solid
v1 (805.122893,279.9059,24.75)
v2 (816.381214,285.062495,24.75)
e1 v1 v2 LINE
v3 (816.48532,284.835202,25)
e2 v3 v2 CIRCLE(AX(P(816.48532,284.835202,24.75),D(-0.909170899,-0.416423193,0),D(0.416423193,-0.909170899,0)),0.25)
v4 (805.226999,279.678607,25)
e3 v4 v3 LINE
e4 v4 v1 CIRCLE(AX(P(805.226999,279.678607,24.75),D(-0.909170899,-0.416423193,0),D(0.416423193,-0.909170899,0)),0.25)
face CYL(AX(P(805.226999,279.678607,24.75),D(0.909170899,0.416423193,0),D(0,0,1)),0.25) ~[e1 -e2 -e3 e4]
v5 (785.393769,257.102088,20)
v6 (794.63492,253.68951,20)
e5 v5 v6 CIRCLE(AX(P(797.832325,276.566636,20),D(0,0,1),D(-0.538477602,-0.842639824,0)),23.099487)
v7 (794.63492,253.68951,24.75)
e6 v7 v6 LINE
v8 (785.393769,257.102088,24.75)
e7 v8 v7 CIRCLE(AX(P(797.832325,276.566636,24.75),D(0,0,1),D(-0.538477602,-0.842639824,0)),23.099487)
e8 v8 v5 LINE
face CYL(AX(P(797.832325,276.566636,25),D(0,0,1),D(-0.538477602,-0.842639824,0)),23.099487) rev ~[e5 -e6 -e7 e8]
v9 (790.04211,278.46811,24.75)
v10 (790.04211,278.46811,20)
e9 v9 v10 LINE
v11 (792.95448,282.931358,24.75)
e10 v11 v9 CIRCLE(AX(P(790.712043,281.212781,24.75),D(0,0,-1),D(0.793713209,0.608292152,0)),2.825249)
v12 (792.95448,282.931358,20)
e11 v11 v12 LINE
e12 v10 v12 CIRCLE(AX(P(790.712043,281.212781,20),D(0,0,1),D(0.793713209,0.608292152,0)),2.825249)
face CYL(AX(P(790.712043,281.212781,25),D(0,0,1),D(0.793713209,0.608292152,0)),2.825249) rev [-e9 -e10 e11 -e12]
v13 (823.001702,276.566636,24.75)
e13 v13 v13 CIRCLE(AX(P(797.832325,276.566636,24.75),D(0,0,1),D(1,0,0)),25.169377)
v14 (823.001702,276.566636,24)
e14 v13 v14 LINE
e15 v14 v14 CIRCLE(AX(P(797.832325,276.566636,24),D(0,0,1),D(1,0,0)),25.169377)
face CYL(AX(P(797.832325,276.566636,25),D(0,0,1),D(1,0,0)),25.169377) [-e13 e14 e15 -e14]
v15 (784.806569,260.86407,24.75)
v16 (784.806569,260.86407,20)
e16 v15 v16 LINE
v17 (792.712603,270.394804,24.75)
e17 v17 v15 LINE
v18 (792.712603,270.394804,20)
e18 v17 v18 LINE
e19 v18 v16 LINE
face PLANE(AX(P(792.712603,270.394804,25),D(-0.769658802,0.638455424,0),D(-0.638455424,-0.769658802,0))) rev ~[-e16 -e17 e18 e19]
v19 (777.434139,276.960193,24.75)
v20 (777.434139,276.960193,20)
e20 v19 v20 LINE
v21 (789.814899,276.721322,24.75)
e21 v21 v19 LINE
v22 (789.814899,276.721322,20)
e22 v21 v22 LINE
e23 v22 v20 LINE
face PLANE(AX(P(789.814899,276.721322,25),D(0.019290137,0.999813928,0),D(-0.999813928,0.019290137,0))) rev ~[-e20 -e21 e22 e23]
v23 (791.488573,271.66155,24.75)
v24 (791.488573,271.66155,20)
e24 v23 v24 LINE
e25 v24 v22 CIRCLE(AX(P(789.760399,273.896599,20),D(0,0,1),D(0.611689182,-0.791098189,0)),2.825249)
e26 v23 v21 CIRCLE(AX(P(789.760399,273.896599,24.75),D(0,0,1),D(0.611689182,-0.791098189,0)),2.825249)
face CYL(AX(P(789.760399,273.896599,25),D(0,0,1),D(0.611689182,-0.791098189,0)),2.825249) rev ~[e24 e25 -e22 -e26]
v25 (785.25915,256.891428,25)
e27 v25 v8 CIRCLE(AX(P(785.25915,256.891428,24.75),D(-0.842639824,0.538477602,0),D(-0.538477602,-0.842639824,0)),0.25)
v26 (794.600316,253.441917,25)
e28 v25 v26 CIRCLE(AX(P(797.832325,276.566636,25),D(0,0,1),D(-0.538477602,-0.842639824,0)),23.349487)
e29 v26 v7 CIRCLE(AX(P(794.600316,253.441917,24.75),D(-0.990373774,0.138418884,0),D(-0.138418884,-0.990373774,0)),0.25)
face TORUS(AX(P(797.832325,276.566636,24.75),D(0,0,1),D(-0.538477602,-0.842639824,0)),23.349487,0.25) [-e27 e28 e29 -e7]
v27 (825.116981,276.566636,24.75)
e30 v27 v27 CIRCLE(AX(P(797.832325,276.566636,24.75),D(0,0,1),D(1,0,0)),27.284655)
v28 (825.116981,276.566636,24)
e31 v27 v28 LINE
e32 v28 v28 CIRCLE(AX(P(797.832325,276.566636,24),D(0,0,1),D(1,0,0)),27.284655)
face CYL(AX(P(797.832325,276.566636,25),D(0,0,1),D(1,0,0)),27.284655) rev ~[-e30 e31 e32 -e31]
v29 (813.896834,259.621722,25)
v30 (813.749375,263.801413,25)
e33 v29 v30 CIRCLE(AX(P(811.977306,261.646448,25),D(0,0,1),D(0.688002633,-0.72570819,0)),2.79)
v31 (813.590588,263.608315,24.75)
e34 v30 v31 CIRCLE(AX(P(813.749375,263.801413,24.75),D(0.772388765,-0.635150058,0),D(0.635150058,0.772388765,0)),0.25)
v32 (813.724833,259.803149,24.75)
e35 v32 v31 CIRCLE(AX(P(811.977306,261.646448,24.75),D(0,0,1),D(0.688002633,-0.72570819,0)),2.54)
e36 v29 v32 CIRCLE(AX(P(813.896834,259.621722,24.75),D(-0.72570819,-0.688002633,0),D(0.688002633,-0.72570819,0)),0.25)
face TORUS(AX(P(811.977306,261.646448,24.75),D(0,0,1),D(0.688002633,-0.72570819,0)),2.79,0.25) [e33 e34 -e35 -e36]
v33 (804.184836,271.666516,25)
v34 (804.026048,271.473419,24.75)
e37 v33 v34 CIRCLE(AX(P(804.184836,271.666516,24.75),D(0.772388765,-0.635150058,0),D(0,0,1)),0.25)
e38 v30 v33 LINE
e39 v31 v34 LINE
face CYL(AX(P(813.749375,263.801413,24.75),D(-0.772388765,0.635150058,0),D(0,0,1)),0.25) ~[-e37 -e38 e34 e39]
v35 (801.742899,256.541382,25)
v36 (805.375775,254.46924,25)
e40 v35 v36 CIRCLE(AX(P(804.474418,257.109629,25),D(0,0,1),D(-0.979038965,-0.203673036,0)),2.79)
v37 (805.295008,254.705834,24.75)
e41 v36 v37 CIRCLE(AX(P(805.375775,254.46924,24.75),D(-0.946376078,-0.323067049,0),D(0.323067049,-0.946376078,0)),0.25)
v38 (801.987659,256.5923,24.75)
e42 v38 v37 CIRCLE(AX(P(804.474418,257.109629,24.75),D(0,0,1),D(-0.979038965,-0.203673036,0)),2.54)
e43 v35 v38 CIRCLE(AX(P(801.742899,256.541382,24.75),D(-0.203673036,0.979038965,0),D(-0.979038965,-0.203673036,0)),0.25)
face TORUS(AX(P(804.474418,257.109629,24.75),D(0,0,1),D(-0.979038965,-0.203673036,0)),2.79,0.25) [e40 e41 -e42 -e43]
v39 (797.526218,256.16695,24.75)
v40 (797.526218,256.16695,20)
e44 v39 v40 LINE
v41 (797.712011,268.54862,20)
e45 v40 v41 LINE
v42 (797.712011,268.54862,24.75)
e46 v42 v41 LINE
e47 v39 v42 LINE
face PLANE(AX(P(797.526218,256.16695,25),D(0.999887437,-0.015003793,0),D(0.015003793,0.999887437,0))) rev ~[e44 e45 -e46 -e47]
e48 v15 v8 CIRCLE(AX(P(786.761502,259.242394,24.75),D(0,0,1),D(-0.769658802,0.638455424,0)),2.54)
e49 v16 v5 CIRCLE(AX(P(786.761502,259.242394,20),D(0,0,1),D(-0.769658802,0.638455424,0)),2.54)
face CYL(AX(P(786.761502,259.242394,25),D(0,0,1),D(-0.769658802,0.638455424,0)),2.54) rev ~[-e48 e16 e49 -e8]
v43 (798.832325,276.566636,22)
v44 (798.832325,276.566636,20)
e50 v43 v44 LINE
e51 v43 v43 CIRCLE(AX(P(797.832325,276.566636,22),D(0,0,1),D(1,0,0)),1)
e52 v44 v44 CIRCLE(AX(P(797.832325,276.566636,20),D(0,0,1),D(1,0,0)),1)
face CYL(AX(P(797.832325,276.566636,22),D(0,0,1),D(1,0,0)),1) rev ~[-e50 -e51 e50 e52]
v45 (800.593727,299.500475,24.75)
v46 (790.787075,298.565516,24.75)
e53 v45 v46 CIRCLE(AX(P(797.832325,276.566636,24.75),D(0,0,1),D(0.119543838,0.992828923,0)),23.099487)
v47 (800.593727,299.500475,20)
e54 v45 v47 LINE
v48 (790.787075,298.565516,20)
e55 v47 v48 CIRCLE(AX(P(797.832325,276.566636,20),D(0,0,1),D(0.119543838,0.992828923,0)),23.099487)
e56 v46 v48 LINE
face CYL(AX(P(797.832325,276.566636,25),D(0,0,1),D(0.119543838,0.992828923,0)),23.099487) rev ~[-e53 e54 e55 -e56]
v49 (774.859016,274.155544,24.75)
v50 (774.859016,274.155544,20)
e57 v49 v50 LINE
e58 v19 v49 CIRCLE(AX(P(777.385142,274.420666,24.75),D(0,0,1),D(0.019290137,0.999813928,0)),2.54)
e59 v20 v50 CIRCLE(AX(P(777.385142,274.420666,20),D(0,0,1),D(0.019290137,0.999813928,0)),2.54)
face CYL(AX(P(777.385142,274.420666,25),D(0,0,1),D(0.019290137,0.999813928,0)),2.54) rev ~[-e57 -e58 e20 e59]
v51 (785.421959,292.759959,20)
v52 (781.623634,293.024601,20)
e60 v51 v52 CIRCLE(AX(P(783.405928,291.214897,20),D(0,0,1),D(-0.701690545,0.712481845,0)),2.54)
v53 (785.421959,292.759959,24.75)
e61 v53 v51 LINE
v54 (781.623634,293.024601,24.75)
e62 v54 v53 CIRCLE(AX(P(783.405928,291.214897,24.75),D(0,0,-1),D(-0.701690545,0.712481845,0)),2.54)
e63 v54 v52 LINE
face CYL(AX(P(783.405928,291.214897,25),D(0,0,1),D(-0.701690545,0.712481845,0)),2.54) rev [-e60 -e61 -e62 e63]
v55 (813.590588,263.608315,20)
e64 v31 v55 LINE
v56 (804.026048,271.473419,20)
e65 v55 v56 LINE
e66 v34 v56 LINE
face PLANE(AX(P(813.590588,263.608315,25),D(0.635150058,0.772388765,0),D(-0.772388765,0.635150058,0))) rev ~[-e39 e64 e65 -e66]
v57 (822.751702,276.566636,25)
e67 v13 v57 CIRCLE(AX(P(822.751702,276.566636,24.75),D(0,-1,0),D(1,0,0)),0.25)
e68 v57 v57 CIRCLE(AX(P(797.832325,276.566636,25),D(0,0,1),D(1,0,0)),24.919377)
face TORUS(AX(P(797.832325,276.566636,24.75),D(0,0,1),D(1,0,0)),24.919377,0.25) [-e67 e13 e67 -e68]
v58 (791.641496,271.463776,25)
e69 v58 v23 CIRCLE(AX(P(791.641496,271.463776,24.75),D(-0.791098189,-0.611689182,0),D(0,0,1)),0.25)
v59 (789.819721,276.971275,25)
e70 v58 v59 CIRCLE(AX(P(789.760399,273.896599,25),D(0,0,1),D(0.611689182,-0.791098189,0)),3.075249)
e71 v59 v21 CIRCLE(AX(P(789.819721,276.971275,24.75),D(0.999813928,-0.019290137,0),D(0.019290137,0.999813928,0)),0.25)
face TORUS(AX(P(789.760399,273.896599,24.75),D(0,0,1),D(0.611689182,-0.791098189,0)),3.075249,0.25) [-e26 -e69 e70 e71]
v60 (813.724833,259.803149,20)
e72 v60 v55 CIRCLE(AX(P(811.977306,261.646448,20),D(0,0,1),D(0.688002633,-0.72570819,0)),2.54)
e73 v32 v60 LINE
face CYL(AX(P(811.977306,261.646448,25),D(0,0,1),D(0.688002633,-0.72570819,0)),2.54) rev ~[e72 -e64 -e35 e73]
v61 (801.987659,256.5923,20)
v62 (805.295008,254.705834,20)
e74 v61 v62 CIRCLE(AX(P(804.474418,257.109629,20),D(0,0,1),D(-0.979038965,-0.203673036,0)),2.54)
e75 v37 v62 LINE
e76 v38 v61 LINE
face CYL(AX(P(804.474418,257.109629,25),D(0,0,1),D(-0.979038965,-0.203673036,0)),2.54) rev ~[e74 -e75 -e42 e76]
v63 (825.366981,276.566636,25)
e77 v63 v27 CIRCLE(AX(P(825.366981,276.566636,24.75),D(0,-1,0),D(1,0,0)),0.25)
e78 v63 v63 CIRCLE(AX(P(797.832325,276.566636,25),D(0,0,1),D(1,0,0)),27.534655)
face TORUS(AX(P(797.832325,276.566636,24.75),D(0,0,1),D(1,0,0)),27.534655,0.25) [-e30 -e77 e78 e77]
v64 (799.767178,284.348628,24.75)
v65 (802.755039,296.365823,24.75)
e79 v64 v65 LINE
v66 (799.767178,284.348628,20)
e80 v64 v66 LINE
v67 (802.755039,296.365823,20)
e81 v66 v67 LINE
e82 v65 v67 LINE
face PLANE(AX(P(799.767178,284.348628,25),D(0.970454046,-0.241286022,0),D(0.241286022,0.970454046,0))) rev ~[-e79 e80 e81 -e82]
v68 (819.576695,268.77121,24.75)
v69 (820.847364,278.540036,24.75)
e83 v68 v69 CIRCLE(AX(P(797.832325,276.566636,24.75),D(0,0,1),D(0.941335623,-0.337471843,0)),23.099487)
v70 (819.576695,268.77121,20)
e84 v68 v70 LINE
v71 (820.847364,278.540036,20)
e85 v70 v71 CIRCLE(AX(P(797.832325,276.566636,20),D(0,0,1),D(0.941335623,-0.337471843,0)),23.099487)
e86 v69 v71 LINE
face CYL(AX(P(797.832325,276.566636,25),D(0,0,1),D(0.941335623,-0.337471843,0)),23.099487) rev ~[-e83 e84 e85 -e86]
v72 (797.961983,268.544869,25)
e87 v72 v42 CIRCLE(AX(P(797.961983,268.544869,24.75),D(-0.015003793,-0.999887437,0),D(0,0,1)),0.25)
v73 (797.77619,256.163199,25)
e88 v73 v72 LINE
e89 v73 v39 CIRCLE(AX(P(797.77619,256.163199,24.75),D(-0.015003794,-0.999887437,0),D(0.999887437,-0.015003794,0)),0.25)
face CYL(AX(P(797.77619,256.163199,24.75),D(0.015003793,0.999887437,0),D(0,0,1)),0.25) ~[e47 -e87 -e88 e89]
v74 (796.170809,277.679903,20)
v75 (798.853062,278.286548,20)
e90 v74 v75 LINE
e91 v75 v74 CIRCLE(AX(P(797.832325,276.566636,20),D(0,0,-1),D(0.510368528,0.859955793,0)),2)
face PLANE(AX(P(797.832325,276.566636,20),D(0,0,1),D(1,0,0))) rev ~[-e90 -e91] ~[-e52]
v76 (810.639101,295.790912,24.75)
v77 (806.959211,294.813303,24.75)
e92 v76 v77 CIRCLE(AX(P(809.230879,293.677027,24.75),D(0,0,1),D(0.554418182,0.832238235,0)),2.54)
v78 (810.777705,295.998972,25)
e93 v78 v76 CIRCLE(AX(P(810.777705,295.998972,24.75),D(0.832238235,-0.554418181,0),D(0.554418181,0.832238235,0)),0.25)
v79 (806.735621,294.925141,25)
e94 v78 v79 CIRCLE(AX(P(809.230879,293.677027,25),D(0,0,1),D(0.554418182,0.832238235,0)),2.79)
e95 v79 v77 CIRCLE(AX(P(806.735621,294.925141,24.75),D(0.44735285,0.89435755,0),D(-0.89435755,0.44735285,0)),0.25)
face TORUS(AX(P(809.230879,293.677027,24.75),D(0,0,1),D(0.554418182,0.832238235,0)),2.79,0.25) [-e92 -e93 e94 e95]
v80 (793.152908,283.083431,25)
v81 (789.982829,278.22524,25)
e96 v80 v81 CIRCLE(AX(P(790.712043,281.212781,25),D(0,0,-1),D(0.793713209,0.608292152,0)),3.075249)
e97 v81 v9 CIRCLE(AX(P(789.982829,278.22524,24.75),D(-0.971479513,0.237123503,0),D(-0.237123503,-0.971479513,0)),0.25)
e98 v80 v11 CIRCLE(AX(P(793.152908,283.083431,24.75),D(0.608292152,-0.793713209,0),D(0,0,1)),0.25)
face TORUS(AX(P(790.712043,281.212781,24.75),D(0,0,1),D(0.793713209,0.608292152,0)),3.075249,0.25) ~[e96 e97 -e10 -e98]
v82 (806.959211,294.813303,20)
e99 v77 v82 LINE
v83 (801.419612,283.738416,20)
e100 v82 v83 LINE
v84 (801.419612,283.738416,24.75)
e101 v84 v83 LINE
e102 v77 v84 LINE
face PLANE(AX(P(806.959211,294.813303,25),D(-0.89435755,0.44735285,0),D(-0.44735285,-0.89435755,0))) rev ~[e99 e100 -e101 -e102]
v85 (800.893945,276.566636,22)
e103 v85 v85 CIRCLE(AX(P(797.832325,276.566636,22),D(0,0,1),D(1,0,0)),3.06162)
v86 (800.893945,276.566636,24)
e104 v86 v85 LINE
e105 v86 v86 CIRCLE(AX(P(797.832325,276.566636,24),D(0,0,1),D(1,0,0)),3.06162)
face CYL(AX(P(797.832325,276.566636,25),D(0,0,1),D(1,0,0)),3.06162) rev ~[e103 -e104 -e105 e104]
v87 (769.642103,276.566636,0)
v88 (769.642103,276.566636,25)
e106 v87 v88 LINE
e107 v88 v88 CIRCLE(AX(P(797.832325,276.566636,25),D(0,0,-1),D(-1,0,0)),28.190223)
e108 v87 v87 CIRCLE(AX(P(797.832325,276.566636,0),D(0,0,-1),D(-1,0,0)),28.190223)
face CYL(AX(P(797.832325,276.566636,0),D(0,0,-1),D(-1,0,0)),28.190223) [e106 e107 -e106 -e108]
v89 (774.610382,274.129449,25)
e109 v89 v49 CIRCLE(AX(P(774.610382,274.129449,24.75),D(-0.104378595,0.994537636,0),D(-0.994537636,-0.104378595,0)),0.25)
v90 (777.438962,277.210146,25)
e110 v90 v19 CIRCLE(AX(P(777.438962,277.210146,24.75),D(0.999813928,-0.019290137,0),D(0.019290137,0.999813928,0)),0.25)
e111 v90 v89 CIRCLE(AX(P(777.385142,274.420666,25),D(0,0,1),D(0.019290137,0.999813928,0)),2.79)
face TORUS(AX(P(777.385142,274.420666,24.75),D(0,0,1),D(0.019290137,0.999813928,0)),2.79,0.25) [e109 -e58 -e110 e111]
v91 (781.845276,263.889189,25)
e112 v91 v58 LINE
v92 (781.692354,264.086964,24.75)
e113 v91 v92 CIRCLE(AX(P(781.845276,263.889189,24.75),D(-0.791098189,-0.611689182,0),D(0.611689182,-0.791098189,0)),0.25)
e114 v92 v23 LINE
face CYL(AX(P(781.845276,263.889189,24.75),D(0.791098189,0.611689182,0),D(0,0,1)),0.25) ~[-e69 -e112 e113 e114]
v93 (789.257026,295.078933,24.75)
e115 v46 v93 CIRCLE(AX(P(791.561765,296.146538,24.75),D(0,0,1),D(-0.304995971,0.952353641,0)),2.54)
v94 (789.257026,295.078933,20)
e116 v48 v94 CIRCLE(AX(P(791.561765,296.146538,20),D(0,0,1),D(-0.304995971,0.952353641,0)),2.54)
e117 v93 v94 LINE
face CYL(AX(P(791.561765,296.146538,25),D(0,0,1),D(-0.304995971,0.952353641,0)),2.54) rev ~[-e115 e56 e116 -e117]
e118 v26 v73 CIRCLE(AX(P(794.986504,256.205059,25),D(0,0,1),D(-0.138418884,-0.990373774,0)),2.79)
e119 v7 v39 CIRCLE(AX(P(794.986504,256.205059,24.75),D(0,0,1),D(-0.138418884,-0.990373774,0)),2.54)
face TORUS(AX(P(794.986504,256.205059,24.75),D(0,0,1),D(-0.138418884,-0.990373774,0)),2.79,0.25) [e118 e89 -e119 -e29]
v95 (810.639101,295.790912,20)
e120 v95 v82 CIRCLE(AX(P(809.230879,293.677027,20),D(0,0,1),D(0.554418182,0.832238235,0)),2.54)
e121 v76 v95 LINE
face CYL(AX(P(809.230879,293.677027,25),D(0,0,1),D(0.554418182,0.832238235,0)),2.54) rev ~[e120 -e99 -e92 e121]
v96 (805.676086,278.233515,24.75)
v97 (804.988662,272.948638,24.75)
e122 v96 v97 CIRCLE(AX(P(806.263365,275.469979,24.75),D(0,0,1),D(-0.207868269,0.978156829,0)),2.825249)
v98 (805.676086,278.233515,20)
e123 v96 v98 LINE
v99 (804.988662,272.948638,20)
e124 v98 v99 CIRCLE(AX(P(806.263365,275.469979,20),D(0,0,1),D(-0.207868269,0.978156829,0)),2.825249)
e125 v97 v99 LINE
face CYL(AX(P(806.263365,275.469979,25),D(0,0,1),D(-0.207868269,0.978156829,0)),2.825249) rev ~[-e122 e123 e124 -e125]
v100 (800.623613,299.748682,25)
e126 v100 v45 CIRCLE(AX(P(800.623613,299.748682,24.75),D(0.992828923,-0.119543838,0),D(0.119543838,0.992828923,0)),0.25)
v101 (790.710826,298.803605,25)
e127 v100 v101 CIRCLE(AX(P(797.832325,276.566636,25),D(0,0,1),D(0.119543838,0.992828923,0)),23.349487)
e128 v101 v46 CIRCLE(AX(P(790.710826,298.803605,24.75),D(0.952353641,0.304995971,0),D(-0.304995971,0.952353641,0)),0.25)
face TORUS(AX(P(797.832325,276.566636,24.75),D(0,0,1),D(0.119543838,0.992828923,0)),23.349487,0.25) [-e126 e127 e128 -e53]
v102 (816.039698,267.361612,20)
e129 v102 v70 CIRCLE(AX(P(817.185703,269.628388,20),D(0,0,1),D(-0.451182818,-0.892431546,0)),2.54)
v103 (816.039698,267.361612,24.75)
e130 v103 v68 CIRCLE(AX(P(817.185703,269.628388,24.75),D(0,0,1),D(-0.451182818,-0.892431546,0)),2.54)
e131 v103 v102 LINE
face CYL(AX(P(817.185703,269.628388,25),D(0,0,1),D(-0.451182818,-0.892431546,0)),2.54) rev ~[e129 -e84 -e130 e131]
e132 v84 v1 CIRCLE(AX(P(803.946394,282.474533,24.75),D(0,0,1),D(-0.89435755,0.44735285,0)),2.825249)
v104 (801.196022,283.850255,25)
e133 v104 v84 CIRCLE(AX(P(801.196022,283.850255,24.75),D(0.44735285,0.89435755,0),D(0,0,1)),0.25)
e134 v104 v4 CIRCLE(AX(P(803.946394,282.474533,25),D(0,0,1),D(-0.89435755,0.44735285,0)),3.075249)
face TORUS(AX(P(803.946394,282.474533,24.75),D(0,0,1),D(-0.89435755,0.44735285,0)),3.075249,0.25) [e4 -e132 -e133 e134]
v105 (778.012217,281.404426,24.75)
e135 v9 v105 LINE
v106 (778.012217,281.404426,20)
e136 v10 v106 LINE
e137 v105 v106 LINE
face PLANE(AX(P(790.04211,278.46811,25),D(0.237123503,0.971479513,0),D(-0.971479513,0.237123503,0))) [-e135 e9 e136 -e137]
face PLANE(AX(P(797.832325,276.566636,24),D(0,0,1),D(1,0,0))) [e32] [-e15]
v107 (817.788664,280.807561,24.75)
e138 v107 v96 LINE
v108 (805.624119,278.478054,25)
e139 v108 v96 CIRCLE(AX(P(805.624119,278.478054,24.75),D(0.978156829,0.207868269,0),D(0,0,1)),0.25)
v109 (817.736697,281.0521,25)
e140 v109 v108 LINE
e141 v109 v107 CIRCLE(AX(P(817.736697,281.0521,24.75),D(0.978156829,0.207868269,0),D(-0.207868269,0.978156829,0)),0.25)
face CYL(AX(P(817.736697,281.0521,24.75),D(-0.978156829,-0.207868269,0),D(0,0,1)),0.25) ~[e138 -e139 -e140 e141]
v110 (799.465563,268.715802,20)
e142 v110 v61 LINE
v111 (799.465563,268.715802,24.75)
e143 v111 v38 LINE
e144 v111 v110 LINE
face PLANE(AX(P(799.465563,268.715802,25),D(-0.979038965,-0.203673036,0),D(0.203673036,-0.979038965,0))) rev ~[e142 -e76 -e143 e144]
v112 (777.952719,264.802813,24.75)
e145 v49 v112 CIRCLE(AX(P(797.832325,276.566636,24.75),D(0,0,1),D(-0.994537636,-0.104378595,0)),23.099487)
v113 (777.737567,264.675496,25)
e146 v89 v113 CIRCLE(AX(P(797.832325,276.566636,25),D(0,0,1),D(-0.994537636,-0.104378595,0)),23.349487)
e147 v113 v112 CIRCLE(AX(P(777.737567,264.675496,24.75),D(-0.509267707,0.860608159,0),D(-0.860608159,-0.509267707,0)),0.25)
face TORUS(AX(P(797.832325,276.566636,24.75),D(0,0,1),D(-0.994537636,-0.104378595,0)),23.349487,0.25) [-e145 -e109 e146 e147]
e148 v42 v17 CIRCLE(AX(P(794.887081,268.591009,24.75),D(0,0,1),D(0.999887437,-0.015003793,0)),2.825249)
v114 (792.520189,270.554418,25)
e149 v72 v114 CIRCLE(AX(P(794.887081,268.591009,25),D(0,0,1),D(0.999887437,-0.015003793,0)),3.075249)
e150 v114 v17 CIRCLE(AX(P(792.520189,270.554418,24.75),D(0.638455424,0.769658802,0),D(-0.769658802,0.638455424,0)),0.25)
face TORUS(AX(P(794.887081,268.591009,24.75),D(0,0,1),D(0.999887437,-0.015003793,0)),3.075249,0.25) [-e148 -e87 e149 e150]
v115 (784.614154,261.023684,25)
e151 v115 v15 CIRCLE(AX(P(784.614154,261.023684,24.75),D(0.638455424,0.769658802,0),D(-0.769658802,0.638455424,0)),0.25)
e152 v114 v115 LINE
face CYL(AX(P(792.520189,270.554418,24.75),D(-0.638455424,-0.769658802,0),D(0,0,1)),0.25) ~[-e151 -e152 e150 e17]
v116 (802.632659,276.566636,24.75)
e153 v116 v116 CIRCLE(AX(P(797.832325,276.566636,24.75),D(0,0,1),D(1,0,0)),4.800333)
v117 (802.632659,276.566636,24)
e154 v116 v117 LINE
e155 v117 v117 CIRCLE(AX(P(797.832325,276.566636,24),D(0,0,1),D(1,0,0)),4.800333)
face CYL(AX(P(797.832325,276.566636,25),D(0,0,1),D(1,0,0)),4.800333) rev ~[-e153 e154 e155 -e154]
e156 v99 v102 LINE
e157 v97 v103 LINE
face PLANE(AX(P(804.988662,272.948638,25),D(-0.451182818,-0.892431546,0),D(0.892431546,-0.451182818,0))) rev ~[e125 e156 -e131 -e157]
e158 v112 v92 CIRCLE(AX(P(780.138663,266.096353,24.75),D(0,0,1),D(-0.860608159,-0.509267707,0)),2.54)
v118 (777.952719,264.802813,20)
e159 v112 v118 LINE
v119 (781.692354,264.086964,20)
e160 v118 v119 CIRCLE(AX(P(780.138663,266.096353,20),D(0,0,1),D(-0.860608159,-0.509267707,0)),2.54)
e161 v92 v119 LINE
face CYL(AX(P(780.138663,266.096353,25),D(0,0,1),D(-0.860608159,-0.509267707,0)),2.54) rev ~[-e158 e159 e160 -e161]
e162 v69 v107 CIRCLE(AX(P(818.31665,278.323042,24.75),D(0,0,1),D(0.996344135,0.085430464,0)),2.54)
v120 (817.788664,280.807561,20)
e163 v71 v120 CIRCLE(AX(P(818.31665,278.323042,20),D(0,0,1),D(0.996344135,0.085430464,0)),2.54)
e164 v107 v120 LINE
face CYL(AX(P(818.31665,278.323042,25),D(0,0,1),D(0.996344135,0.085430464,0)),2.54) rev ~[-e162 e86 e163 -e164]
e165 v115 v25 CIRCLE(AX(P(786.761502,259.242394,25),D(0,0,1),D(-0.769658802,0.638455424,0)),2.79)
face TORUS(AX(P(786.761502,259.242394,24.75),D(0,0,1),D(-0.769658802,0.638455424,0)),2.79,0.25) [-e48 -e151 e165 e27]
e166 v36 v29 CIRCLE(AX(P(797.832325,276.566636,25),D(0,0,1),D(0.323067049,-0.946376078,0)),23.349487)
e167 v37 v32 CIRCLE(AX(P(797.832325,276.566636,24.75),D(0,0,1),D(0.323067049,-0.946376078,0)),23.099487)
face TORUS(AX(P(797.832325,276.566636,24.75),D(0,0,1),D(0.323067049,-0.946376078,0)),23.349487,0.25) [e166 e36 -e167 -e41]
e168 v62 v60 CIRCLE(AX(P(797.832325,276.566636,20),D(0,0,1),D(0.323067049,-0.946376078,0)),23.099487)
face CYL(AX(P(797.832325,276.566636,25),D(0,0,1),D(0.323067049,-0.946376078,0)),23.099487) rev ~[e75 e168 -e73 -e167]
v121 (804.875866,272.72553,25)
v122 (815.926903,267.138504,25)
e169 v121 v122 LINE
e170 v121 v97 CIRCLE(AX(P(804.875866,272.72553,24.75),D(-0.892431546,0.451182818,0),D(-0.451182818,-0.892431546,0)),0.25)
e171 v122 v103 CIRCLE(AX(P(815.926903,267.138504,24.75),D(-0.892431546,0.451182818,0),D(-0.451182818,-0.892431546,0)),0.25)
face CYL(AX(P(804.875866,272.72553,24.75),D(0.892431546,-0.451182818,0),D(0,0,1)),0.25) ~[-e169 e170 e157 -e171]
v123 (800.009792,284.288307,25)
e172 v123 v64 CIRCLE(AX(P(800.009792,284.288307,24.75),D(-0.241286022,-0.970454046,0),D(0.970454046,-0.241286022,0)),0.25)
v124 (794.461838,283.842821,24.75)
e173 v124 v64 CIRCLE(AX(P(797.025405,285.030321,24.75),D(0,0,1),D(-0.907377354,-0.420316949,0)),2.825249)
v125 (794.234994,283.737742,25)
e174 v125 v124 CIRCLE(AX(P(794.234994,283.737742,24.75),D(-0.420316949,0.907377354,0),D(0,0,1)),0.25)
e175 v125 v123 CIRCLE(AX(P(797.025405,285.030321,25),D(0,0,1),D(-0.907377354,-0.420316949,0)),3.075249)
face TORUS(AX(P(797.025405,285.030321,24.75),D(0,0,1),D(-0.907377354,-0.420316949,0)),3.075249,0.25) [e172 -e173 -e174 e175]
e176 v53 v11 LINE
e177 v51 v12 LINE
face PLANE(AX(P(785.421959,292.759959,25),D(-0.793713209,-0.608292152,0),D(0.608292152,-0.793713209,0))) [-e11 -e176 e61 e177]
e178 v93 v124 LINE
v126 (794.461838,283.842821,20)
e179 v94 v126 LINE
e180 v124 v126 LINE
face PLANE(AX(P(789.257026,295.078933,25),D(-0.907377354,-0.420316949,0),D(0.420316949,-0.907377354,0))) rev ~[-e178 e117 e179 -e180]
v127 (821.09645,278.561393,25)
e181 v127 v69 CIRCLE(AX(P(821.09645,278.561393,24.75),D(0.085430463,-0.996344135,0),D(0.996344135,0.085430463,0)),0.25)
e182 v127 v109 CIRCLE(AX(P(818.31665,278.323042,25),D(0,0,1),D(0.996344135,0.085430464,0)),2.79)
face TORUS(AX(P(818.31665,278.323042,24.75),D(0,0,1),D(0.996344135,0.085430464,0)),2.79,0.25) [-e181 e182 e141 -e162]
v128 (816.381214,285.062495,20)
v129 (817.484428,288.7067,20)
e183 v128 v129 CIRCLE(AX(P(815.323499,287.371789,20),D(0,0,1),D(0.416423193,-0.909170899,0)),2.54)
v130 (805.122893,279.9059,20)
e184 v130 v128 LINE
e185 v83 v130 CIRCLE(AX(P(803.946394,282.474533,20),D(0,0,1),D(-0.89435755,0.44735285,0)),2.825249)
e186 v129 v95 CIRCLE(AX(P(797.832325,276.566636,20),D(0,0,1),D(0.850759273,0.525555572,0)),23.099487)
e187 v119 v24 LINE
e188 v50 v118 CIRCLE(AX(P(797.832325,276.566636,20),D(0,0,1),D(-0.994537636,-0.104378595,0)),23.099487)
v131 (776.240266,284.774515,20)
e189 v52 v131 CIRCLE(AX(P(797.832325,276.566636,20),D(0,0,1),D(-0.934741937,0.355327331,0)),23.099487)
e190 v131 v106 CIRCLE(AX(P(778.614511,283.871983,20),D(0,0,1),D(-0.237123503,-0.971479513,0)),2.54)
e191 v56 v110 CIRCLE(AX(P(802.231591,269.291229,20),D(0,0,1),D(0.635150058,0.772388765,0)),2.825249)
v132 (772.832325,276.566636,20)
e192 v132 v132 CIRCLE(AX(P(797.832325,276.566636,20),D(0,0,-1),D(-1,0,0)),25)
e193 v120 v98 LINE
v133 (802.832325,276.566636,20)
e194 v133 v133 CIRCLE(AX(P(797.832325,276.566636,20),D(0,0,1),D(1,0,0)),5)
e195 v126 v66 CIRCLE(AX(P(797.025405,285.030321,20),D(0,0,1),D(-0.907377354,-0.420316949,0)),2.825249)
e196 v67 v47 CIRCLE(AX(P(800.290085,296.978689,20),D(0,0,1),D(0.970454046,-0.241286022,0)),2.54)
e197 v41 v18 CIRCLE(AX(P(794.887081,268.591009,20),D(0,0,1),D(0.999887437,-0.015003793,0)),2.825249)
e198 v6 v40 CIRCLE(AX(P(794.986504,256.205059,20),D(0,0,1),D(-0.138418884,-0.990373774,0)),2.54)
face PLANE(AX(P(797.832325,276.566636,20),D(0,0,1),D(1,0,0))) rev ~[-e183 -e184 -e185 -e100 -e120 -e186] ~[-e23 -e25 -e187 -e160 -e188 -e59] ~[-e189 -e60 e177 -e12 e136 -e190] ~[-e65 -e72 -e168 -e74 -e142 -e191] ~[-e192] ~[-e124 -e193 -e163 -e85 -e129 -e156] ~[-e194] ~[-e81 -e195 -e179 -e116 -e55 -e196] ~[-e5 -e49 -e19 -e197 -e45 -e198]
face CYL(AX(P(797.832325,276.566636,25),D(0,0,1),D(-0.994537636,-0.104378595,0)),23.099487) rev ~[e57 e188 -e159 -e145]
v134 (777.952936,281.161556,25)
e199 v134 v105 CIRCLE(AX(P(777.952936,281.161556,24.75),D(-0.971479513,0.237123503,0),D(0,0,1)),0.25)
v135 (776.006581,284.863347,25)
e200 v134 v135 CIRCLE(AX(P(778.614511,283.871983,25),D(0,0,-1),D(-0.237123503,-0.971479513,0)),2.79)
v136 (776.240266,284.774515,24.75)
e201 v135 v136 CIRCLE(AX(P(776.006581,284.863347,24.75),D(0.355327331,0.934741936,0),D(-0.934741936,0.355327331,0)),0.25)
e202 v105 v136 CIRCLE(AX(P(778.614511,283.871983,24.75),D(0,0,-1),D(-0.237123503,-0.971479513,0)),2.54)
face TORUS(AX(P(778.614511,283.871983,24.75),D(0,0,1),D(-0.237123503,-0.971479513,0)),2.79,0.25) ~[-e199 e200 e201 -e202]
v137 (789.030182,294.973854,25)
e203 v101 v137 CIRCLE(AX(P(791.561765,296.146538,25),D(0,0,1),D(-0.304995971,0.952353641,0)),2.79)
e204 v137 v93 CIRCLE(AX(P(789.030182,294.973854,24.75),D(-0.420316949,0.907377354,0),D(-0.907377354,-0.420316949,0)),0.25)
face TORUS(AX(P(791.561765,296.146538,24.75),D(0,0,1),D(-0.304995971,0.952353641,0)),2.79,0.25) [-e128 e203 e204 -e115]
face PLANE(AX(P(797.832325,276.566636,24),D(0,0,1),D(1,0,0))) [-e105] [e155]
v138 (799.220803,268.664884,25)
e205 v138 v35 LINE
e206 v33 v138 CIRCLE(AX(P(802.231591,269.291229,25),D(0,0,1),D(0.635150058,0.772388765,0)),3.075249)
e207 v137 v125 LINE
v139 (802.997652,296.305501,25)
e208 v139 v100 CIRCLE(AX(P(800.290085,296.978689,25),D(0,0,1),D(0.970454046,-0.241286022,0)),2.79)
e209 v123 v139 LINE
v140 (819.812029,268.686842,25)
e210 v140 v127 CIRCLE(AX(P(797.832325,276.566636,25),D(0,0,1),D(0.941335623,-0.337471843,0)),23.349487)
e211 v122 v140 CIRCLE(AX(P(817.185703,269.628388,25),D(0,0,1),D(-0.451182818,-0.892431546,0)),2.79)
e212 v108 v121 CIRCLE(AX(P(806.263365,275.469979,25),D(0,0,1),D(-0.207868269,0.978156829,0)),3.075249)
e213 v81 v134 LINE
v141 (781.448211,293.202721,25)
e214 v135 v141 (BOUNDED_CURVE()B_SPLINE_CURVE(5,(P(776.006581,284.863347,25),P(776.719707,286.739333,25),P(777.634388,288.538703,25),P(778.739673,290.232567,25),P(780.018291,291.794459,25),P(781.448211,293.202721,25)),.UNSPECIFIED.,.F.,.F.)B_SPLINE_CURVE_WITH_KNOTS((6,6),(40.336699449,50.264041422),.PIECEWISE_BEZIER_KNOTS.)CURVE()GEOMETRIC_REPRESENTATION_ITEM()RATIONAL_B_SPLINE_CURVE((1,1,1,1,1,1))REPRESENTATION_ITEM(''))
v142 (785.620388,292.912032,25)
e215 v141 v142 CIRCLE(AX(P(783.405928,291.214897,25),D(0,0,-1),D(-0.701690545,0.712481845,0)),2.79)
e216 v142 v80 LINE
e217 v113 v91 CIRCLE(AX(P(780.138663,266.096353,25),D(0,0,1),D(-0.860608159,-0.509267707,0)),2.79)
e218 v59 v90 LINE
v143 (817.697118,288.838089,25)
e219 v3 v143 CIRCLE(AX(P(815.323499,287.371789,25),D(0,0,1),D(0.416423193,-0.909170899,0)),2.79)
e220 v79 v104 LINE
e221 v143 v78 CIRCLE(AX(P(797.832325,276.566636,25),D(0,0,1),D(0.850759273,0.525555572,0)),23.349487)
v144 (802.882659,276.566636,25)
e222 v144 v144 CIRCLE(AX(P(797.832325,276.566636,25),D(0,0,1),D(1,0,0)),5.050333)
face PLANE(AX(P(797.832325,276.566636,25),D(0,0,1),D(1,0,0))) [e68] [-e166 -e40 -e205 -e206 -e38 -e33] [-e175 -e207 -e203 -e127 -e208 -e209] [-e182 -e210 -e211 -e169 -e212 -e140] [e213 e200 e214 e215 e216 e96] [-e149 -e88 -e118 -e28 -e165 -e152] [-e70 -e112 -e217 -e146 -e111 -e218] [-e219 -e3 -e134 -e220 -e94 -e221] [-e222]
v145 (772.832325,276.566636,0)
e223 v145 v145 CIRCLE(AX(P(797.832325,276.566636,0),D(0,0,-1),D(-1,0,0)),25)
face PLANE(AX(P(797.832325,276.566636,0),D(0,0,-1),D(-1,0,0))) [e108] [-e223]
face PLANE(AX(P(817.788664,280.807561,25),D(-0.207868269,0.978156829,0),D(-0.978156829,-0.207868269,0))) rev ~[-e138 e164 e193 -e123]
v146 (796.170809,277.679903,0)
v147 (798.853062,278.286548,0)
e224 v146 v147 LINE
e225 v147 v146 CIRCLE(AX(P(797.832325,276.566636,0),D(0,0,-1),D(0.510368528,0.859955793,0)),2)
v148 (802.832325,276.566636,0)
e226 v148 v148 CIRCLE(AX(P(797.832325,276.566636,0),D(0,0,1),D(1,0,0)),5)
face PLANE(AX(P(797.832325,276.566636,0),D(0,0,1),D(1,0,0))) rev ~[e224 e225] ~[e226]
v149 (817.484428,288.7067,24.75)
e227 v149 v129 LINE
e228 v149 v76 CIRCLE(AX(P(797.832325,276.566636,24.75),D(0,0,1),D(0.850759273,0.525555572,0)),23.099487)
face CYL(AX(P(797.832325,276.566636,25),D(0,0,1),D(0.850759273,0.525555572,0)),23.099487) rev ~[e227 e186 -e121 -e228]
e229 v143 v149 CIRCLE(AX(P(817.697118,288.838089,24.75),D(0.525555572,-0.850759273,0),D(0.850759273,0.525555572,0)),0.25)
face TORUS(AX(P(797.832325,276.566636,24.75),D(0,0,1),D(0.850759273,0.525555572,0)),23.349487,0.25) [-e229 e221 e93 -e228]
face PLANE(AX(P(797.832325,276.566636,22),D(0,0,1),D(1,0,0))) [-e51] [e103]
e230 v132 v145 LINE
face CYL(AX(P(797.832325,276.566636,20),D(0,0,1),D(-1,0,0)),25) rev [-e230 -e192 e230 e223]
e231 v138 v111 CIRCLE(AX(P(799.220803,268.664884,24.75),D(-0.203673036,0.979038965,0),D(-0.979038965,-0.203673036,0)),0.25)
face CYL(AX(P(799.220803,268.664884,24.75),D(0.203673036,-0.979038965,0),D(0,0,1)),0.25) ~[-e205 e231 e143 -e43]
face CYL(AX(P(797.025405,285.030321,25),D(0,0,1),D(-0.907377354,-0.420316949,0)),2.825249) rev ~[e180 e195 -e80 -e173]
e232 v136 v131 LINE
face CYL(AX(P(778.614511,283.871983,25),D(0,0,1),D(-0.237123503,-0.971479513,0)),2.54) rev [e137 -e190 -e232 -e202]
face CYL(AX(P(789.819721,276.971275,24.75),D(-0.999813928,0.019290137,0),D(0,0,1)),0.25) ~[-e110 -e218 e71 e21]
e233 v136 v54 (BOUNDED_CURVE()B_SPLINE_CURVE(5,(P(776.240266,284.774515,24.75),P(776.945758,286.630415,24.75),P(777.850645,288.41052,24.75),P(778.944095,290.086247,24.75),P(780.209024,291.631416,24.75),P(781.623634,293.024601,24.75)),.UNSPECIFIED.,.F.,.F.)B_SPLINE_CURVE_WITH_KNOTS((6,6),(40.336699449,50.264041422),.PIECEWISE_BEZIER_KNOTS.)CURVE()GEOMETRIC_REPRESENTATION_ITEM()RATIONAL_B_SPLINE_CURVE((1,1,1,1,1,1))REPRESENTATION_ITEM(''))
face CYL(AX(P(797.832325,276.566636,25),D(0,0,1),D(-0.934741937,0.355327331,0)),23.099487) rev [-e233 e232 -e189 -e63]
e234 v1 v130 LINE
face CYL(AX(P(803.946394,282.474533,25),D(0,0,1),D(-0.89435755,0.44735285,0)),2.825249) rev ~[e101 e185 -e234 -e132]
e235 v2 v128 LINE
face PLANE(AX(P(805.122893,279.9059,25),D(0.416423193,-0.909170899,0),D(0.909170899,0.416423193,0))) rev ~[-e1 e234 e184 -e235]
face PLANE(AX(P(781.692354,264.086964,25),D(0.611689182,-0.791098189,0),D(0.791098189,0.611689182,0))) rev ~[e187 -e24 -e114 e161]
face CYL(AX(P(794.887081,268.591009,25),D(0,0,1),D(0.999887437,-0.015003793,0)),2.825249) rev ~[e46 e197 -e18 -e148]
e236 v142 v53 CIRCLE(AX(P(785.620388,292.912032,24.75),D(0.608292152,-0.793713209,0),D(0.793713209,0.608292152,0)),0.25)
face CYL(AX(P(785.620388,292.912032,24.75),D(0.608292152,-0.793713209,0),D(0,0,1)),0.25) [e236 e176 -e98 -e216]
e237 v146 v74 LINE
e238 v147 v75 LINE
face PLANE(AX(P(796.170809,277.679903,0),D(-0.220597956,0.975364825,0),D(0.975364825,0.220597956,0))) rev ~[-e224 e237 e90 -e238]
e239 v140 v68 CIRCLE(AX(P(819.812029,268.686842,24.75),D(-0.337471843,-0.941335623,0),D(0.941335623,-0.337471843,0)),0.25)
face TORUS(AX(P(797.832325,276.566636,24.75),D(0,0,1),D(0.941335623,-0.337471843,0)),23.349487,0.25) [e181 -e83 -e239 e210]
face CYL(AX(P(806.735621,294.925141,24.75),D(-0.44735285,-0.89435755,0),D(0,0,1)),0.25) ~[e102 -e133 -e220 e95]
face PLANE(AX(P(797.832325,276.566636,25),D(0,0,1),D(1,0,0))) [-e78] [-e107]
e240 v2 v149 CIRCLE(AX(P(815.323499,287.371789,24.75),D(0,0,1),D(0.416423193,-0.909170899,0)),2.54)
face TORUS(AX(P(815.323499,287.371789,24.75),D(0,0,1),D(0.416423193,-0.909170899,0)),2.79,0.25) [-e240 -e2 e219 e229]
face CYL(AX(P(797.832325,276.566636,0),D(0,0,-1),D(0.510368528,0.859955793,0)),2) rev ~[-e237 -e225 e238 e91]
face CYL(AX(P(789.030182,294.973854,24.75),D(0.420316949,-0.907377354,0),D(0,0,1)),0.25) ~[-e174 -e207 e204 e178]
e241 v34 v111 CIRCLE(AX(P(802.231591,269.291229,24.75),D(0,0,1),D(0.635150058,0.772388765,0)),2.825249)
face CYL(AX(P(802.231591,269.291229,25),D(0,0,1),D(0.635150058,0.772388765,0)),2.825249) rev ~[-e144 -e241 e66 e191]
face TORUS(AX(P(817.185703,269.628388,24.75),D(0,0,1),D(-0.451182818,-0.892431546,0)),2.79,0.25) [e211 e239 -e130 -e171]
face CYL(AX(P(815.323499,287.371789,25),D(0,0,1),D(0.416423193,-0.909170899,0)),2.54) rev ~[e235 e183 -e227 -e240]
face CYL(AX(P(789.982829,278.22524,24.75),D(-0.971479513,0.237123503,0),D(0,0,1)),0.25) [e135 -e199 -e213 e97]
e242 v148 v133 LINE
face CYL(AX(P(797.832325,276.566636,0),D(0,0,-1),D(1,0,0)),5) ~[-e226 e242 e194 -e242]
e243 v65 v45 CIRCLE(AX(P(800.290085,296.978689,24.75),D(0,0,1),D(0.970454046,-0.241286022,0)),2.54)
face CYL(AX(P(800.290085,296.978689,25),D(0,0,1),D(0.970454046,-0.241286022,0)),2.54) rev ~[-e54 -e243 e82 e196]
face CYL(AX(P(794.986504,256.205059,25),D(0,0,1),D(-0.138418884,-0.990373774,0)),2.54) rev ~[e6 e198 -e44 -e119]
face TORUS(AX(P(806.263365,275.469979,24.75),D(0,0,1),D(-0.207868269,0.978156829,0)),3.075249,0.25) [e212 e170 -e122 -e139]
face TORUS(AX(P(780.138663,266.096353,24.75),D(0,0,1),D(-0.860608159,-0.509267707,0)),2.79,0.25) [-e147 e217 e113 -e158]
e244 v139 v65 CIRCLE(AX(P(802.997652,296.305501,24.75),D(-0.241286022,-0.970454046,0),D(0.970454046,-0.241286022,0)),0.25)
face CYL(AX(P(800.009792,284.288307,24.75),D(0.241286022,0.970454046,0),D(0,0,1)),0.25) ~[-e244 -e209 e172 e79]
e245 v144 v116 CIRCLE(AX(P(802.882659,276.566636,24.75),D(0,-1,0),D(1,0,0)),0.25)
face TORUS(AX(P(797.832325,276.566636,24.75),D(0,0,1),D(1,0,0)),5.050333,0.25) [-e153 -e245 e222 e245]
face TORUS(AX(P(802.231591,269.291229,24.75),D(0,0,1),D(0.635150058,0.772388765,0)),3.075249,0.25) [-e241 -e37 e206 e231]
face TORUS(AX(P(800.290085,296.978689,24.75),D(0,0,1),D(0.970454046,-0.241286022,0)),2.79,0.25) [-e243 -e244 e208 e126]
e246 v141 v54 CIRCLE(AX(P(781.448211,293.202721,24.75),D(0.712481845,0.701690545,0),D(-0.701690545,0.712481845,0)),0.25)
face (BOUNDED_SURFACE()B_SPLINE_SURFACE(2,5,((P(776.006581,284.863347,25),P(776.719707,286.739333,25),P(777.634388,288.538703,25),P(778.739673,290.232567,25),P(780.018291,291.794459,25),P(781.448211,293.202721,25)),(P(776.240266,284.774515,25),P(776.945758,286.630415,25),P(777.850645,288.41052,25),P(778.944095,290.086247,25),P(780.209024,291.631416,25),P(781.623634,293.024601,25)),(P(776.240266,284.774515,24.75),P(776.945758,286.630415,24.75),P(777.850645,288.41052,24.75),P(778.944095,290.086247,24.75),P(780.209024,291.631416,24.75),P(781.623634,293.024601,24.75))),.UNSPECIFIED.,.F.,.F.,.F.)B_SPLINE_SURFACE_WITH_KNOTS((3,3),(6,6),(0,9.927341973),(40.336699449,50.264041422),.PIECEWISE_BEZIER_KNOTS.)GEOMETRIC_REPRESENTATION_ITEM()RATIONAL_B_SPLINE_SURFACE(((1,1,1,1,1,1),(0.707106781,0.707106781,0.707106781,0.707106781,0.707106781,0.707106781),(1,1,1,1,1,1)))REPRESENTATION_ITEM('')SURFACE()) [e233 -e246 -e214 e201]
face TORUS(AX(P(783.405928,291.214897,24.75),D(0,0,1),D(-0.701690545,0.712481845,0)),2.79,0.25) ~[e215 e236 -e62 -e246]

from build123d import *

# Parameters (mm, degrees)
MODEL_R             = 5
EXTRUDE_1_DEPTH     = 20
SKETCH_2_R          = 33
EXTRUDE_2_DEPTH     = 5
SKETCH_3_R          = 33
SKETCH_3_R_2        = 25
EXTRUDE_3_DEPTH     = 20
SKETCH_4_R          = 33
SKETCH_4_R_2        = 28.19022281
CUT_EXTRUDE_1_DEPTH = 25
SKETCH_5_R          = 3.061619724
CUT_EXTRUDE_3_DEPTH = 3
SKETCH_6_R          = 4.800333219
CUT_EXTRUDE_4_DEPTH = 1
SKETCH_7_R          = 1
CUT_EXTRUDE_5_DEPTH = 40
CUT_EXTRUDE_6_DEPTH = 40
FILLET_1_R          = 0.25
FILLET_3_R          = 0.25
FILLET_4_R          = 0.25
FILLET_5_R          = 0.25
FILLET_6_R          = 0.25
FILLET_7_R          = 0.25
FILLET_8_R          = 0.25
FILLET_9_R          = 0.25
SKETCH_9_R          = 27.284655203
SKETCH_9_R_2        = 25.169377032
CUT_EXTRUDE_7_DEPTH = 1
FILLET_10_R         = 0.25
FILLET_11_R         = 0.25


with BuildPart() as part:
    # Model → 凸台-拉伸1 (new body)
    with BuildSketch(Plane.XY):
        with Locations((797.832325437, 276.566635927)):
            Circle(MODEL_R)
        with BuildLine():
            Line((796.170809224, 277.679903133), (798.853062492, 278.286547512))
            ThreePointArc((798.853062492, 278.286547512), (798.273521349, 274.615906277), (796.170809224, 277.679903133))
        make_face(mode=Mode.SUBTRACT)
    extrude(amount=EXTRUDE_1_DEPTH)

    # 草图2 → 凸台-拉伸2 (add)
    with BuildSketch(Plane.XY.offset(20)):
        with Locations((797.832325437, 276.566635927)):
            Circle(SKETCH_2_R)
    extrude(amount=EXTRUDE_2_DEPTH)

    # 草图3 → 凸台-拉伸3 (add)
    with BuildSketch(Plane(origin=(0, 0, 20), x_dir=(-1, 0, 0), z_dir=(0, 0, -1))):
        with Locations((-797.832325437, 276.566635927)):
            Circle(SKETCH_3_R)
        with Locations((-797.832325437, 276.566635927)):
            Circle(SKETCH_3_R_2, mode=Mode.SUBTRACT)
    extrude(amount=EXTRUDE_3_DEPTH)

    # 草图4 → 切除-拉伸1 (cut)
    with BuildSketch(Plane(origin=(0, 0, 0), x_dir=(-1, 0, 0), z_dir=(0, 0, -1))):
        with Locations((-797.832325437, 276.566635927)):
            Circle(SKETCH_4_R)
        with Locations((-797.832325437, 276.566635927)):
            Circle(SKETCH_4_R_2, mode=Mode.SUBTRACT)
    extrude(amount=-CUT_EXTRUDE_1_DEPTH, mode=Mode.SUBTRACT)

    # 草图5 → 切除-拉伸3 (cut)
    with BuildSketch(Plane.XY.offset(25)):
        with Locations((797.832325437, 276.566635927)):
            Circle(SKETCH_5_R)
    extrude(amount=-CUT_EXTRUDE_3_DEPTH, mode=Mode.SUBTRACT)

    # 草图6 → 切除-拉伸4 (cut)
    with BuildSketch(Plane.XY.offset(25)):
        with Locations((797.832325437, 276.566635927)):
            Circle(SKETCH_6_R)
    extrude(amount=-CUT_EXTRUDE_4_DEPTH, mode=Mode.SUBTRACT)

    # 草图7 → 切除-拉伸5 (cut)
    with BuildSketch(Plane.XY.offset(22)):
        with Locations((797.832325437, 276.566635927)):
            Circle(SKETCH_7_R)
    extrude(amount=-CUT_EXTRUDE_5_DEPTH, mode=Mode.SUBTRACT)

    # 草图8 → 切除-拉伸6 (cut)
    with BuildSketch(Plane.XY.offset(25)):
        with BuildLine():
            Line((790.042110116, 278.468110041), (778.012217233, 281.404425532))
            ThreePointArc((778.012217233, 281.404425532), (776.366329321, 282.689917741), (776.240266413, 284.774514915))
            ThreePointArc((776.240266413, 284.774514915), (778.487037526, 289.189873469), (781.623633956, 293.024600895))
            ThreePointArc((781.623633956, 293.024600895), (783.582470105, 293.748754318), (785.421959492, 292.759959074))
            Line((785.421959492, 292.759959074), (792.954480073, 282.931357692))
            ThreePointArc((792.954480073, 282.931357692), (793.078123539, 279.668860104), (790.042110116, 278.468110041))
        make_face()
        with BuildLine():
            Line((799.76717845, 284.348628111), (802.755038675, 296.365822572))
            ThreePointArc((802.755038675, 296.365822572), (802.381207054, 298.420497037), (800.593726747, 299.500474532))
            ThreePointArc((800.593726747, 299.500474532), (795.639980232, 299.561850927), (790.787075032, 298.565516287))
            ThreePointArc((790.787075032, 298.565516287), (789.23587027, 297.167231257), (789.257026319, 295.078932988))
            Line((789.257026319, 295.078932988), (794.461837956, 283.842821238))
            ThreePointArc((794.461837956, 283.842821238), (797.293545565, 282.217825782), (799.76717845, 284.348628111))
        make_face()
        with BuildLine():
            Line((805.122893045, 279.905899692), (816.381214385, 285.062494696))
            ThreePointArc((816.381214385, 285.062494696), (817.754543364, 286.635836602), (817.484428028, 288.706699935))
            ThreePointArc((817.484428028, 288.706699935), (814.443803593, 292.617962472), (810.639100903, 295.790912052))
            ThreePointArc((810.639100903, 295.790912052), (808.578717295, 296.131876314), (806.959210545, 294.813303175))
            Line((806.959210545, 294.813303175), (801.419611614, 283.738416488))
            ThreePointArc((801.419611614, 283.738416488), (801.914679824, 280.511330235), (805.122893045, 279.905899692))
        make_face()
        with BuildLine():
            Line((804.98866153, 272.948637549), (816.039698389, 267.361611883))
            ThreePointArc((816.039698389, 267.361611883), (818.126043237, 267.268862684), (819.576695229, 268.771209527))
            ThreePointArc((819.576695229, 268.771209527), (820.738845089, 273.587097742), (820.847363637, 278.540035791))
            ThreePointArc((820.847363637, 278.540035791), (819.829312064, 280.363496301), (817.788664129, 280.80756076))
            Line((817.788664129, 280.80756076), (805.676085613, 278.233514698))
            ThreePointArc((805.676085613, 278.233514698), (803.461717964, 275.834399417), (804.98866153, 272.948637549))
        make_face()
        with BuildLine():
            Line((799.465562974, 268.715801978), (801.987659197, 256.592299923))
            ThreePointArc((801.987659197, 256.592299923), (803.215959689, 254.903301658), (805.295008471, 254.705834196))
            ThreePointArc((805.295008471, 254.705834196), (809.78481008, 256.799886036), (813.724833185, 259.803149181))
            ThreePointArc((813.724833185, 259.803149181), (814.515727246, 261.736002984), (813.590587643, 263.608315446))
            Line((813.590587643, 263.608315446), (804.026048216, 271.473419194))
            ThreePointArc((804.026048216, 271.473419194), (800.769708713, 271.708857625), (799.465562974, 268.715801978))
        make_face()
        with BuildLine():
            Line((792.712603241, 270.394804498), (784.80656893, 260.864070376))
            ThreePointArc((784.80656893, 260.864070376), (784.251889743, 258.850673187), (785.393769178, 257.102088447))
            ThreePointArc((785.393769178, 257.102088447), (789.830310348, 254.897440166), (794.634920251, 253.689510004))
            ThreePointArc((794.634920251, 253.689510004), (796.639200586, 254.276278763), (797.526218306, 256.166949755))
            Line((797.526218306, 256.166949755), (797.712011237, 268.548619773))
            ThreePointArc((797.712011237, 268.548619773), (795.865789943, 271.241321975), (792.712603241, 270.394804498))
        make_face()
        with BuildLine():
            Line((789.814898744, 276.721321967), (777.43413899, 276.960192962))
            ThreePointArc((777.43413899, 276.960192962), (775.514164865, 276.138525999), (774.859016448, 274.155543954))
            ThreePointArc((774.859016448, 274.155543954), (775.901491189, 269.312340675), (777.952718636, 264.802813255))
            ThreePointArc((777.952718636, 264.802813255), (779.661121274, 263.601648126), (781.692353881, 264.08696383))
            Line((781.692353881, 264.08696383), (791.488573304, 271.661550053))
            ThreePointArc((791.488573304, 271.661550053), (792.44271251, 274.783856347), (789.814898744, 276.721321967))
        make_face()
    extrude(amount=-CUT_EXTRUDE_6_DEPTH, mode=Mode.SUBTRACT)

    # 圆角1
    fillet_1_edges = [part.edges().sort_by_distance(p)[0] for p in [
        (793.031992218, 276.566635927, 25),
    ]]
    fillet(fillet_1_edges, radius=FILLET_1_R)

    # 圆角3
    fillet_3_edges = [part.edges().sort_by_distance(p)[0] for p in [
        (817.754543364, 286.635836602, 25),
        (814.443803593, 292.617962472, 25),
        (808.578717295, 296.131876314, 25),
        (804.18941108, 289.275859832, 25),
        (801.914679824, 280.511330235, 25),
        (810.752053715, 282.484197194, 25),
    ]]
    fillet(fillet_3_edges, radius=FILLET_3_R)

    # 圆角4
    fillet_4_edges = [part.edges().sort_by_distance(p)[0] for p in [
        (802.381207054, 298.420497037, 25),
        (795.639980232, 299.561850927, 25),
        (789.23587027, 297.167231257, 25),
        (791.859432138, 289.460877113, 25),
        (797.293545565, 282.217825782, 25),
        (801.261108563, 290.357225342, 25),
    ]]
    fillet(fillet_4_edges, radius=FILLET_4_R)

    # 圆角5
    fillet_5_edges = [part.edges().sort_by_distance(p)[0] for p in [
        (783.582470105, 293.748754318, 25),
        (778.487037526, 289.189873469, 25),
        (776.366329321, 282.689917741, 25),
        (784.027163675, 279.936267787, 25),
        (793.078123539, 279.668860104, 25),
        (789.188219782, 287.845658383, 25),
    ]]
    fillet(fillet_5_edges, radius=FILLET_5_R)

    # 圆角6
    fillet_6_edges = [part.edges().sort_by_distance(p)[0] for p in [
        (775.514164865, 276.138525999, 25),
        (775.901491189, 269.312340675, 25),
        (779.661121274, 263.601648126, 25),
        (786.590463593, 267.874256941, 25),
        (792.44271251, 274.783856347, 25),
        (783.624518867, 276.840757464, 25),
    ]]
    fillet(fillet_6_edges, radius=FILLET_6_R)

    # 圆角7
    fillet_7_edges = [part.edges().sort_by_distance(p)[0] for p in [
        (784.251889743, 258.850673187, 25),
        (789.830310348, 254.897440166, 25),
        (796.639200586, 254.276278763, 25),
        (797.619114771, 262.357784764, 25),
        (795.865789943, 271.241321975, 25),
        (788.759586085, 265.629437437, 25),
    ]]
    fillet(fillet_7_edges, radius=FILLET_7_R)

    # 圆角8
    fillet_8_edges = [part.edges().sort_by_distance(p)[0] for p in [
        (803.215959689, 254.903301658, 25),
        (809.78481008, 256.799886036, 25),
        (814.515727246, 261.736002984, 25),
        (808.80831793, 267.54086732, 25),
        (800.769708713, 271.708857625, 25),
        (800.726611085, 262.65405095, 25),
    ]]
    fillet(fillet_8_edges, radius=FILLET_8_R)

    # 圆角9
    fillet_9_edges = [part.edges().sort_by_distance(p)[0] for p in [
        (818.126043237, 267.268862684, 25),
        (820.738845089, 273.587097742, 25),
        (819.829312064, 280.363496301, 25),
        (811.732374871, 279.520537729, 25),
        (803.461717964, 275.834399417, 25),
        (810.514179959, 270.155124716, 25),
    ]]
    fillet(fillet_9_edges, radius=FILLET_9_R)

    # 草图9 → 切除-拉伸7 (cut)
    with BuildSketch(Plane.XY.offset(25)):
        with Locations((797.832325437, 276.566635927)):
            Circle(SKETCH_9_R)
        with Locations((797.832325437, 276.566635927)):
            Circle(SKETCH_9_R_2, mode=Mode.SUBTRACT)
    extrude(amount=-CUT_EXTRUDE_7_DEPTH, mode=Mode.SUBTRACT)

    # 圆角10
    fillet_10_edges = [part.edges().sort_by_distance(p)[0] for p in [
        (770.547670234, 276.566635927, 25),
    ]]
    fillet(fillet_10_edges, radius=FILLET_10_R)

    # 圆角11
    fillet_11_edges = [part.edges().sort_by_distance(p)[0] for p in [
        (772.662948405, 276.566635927, 25),
    ]]
    fillet(fillet_11_edges, radius=FILLET_11_R)


solid = part.part
